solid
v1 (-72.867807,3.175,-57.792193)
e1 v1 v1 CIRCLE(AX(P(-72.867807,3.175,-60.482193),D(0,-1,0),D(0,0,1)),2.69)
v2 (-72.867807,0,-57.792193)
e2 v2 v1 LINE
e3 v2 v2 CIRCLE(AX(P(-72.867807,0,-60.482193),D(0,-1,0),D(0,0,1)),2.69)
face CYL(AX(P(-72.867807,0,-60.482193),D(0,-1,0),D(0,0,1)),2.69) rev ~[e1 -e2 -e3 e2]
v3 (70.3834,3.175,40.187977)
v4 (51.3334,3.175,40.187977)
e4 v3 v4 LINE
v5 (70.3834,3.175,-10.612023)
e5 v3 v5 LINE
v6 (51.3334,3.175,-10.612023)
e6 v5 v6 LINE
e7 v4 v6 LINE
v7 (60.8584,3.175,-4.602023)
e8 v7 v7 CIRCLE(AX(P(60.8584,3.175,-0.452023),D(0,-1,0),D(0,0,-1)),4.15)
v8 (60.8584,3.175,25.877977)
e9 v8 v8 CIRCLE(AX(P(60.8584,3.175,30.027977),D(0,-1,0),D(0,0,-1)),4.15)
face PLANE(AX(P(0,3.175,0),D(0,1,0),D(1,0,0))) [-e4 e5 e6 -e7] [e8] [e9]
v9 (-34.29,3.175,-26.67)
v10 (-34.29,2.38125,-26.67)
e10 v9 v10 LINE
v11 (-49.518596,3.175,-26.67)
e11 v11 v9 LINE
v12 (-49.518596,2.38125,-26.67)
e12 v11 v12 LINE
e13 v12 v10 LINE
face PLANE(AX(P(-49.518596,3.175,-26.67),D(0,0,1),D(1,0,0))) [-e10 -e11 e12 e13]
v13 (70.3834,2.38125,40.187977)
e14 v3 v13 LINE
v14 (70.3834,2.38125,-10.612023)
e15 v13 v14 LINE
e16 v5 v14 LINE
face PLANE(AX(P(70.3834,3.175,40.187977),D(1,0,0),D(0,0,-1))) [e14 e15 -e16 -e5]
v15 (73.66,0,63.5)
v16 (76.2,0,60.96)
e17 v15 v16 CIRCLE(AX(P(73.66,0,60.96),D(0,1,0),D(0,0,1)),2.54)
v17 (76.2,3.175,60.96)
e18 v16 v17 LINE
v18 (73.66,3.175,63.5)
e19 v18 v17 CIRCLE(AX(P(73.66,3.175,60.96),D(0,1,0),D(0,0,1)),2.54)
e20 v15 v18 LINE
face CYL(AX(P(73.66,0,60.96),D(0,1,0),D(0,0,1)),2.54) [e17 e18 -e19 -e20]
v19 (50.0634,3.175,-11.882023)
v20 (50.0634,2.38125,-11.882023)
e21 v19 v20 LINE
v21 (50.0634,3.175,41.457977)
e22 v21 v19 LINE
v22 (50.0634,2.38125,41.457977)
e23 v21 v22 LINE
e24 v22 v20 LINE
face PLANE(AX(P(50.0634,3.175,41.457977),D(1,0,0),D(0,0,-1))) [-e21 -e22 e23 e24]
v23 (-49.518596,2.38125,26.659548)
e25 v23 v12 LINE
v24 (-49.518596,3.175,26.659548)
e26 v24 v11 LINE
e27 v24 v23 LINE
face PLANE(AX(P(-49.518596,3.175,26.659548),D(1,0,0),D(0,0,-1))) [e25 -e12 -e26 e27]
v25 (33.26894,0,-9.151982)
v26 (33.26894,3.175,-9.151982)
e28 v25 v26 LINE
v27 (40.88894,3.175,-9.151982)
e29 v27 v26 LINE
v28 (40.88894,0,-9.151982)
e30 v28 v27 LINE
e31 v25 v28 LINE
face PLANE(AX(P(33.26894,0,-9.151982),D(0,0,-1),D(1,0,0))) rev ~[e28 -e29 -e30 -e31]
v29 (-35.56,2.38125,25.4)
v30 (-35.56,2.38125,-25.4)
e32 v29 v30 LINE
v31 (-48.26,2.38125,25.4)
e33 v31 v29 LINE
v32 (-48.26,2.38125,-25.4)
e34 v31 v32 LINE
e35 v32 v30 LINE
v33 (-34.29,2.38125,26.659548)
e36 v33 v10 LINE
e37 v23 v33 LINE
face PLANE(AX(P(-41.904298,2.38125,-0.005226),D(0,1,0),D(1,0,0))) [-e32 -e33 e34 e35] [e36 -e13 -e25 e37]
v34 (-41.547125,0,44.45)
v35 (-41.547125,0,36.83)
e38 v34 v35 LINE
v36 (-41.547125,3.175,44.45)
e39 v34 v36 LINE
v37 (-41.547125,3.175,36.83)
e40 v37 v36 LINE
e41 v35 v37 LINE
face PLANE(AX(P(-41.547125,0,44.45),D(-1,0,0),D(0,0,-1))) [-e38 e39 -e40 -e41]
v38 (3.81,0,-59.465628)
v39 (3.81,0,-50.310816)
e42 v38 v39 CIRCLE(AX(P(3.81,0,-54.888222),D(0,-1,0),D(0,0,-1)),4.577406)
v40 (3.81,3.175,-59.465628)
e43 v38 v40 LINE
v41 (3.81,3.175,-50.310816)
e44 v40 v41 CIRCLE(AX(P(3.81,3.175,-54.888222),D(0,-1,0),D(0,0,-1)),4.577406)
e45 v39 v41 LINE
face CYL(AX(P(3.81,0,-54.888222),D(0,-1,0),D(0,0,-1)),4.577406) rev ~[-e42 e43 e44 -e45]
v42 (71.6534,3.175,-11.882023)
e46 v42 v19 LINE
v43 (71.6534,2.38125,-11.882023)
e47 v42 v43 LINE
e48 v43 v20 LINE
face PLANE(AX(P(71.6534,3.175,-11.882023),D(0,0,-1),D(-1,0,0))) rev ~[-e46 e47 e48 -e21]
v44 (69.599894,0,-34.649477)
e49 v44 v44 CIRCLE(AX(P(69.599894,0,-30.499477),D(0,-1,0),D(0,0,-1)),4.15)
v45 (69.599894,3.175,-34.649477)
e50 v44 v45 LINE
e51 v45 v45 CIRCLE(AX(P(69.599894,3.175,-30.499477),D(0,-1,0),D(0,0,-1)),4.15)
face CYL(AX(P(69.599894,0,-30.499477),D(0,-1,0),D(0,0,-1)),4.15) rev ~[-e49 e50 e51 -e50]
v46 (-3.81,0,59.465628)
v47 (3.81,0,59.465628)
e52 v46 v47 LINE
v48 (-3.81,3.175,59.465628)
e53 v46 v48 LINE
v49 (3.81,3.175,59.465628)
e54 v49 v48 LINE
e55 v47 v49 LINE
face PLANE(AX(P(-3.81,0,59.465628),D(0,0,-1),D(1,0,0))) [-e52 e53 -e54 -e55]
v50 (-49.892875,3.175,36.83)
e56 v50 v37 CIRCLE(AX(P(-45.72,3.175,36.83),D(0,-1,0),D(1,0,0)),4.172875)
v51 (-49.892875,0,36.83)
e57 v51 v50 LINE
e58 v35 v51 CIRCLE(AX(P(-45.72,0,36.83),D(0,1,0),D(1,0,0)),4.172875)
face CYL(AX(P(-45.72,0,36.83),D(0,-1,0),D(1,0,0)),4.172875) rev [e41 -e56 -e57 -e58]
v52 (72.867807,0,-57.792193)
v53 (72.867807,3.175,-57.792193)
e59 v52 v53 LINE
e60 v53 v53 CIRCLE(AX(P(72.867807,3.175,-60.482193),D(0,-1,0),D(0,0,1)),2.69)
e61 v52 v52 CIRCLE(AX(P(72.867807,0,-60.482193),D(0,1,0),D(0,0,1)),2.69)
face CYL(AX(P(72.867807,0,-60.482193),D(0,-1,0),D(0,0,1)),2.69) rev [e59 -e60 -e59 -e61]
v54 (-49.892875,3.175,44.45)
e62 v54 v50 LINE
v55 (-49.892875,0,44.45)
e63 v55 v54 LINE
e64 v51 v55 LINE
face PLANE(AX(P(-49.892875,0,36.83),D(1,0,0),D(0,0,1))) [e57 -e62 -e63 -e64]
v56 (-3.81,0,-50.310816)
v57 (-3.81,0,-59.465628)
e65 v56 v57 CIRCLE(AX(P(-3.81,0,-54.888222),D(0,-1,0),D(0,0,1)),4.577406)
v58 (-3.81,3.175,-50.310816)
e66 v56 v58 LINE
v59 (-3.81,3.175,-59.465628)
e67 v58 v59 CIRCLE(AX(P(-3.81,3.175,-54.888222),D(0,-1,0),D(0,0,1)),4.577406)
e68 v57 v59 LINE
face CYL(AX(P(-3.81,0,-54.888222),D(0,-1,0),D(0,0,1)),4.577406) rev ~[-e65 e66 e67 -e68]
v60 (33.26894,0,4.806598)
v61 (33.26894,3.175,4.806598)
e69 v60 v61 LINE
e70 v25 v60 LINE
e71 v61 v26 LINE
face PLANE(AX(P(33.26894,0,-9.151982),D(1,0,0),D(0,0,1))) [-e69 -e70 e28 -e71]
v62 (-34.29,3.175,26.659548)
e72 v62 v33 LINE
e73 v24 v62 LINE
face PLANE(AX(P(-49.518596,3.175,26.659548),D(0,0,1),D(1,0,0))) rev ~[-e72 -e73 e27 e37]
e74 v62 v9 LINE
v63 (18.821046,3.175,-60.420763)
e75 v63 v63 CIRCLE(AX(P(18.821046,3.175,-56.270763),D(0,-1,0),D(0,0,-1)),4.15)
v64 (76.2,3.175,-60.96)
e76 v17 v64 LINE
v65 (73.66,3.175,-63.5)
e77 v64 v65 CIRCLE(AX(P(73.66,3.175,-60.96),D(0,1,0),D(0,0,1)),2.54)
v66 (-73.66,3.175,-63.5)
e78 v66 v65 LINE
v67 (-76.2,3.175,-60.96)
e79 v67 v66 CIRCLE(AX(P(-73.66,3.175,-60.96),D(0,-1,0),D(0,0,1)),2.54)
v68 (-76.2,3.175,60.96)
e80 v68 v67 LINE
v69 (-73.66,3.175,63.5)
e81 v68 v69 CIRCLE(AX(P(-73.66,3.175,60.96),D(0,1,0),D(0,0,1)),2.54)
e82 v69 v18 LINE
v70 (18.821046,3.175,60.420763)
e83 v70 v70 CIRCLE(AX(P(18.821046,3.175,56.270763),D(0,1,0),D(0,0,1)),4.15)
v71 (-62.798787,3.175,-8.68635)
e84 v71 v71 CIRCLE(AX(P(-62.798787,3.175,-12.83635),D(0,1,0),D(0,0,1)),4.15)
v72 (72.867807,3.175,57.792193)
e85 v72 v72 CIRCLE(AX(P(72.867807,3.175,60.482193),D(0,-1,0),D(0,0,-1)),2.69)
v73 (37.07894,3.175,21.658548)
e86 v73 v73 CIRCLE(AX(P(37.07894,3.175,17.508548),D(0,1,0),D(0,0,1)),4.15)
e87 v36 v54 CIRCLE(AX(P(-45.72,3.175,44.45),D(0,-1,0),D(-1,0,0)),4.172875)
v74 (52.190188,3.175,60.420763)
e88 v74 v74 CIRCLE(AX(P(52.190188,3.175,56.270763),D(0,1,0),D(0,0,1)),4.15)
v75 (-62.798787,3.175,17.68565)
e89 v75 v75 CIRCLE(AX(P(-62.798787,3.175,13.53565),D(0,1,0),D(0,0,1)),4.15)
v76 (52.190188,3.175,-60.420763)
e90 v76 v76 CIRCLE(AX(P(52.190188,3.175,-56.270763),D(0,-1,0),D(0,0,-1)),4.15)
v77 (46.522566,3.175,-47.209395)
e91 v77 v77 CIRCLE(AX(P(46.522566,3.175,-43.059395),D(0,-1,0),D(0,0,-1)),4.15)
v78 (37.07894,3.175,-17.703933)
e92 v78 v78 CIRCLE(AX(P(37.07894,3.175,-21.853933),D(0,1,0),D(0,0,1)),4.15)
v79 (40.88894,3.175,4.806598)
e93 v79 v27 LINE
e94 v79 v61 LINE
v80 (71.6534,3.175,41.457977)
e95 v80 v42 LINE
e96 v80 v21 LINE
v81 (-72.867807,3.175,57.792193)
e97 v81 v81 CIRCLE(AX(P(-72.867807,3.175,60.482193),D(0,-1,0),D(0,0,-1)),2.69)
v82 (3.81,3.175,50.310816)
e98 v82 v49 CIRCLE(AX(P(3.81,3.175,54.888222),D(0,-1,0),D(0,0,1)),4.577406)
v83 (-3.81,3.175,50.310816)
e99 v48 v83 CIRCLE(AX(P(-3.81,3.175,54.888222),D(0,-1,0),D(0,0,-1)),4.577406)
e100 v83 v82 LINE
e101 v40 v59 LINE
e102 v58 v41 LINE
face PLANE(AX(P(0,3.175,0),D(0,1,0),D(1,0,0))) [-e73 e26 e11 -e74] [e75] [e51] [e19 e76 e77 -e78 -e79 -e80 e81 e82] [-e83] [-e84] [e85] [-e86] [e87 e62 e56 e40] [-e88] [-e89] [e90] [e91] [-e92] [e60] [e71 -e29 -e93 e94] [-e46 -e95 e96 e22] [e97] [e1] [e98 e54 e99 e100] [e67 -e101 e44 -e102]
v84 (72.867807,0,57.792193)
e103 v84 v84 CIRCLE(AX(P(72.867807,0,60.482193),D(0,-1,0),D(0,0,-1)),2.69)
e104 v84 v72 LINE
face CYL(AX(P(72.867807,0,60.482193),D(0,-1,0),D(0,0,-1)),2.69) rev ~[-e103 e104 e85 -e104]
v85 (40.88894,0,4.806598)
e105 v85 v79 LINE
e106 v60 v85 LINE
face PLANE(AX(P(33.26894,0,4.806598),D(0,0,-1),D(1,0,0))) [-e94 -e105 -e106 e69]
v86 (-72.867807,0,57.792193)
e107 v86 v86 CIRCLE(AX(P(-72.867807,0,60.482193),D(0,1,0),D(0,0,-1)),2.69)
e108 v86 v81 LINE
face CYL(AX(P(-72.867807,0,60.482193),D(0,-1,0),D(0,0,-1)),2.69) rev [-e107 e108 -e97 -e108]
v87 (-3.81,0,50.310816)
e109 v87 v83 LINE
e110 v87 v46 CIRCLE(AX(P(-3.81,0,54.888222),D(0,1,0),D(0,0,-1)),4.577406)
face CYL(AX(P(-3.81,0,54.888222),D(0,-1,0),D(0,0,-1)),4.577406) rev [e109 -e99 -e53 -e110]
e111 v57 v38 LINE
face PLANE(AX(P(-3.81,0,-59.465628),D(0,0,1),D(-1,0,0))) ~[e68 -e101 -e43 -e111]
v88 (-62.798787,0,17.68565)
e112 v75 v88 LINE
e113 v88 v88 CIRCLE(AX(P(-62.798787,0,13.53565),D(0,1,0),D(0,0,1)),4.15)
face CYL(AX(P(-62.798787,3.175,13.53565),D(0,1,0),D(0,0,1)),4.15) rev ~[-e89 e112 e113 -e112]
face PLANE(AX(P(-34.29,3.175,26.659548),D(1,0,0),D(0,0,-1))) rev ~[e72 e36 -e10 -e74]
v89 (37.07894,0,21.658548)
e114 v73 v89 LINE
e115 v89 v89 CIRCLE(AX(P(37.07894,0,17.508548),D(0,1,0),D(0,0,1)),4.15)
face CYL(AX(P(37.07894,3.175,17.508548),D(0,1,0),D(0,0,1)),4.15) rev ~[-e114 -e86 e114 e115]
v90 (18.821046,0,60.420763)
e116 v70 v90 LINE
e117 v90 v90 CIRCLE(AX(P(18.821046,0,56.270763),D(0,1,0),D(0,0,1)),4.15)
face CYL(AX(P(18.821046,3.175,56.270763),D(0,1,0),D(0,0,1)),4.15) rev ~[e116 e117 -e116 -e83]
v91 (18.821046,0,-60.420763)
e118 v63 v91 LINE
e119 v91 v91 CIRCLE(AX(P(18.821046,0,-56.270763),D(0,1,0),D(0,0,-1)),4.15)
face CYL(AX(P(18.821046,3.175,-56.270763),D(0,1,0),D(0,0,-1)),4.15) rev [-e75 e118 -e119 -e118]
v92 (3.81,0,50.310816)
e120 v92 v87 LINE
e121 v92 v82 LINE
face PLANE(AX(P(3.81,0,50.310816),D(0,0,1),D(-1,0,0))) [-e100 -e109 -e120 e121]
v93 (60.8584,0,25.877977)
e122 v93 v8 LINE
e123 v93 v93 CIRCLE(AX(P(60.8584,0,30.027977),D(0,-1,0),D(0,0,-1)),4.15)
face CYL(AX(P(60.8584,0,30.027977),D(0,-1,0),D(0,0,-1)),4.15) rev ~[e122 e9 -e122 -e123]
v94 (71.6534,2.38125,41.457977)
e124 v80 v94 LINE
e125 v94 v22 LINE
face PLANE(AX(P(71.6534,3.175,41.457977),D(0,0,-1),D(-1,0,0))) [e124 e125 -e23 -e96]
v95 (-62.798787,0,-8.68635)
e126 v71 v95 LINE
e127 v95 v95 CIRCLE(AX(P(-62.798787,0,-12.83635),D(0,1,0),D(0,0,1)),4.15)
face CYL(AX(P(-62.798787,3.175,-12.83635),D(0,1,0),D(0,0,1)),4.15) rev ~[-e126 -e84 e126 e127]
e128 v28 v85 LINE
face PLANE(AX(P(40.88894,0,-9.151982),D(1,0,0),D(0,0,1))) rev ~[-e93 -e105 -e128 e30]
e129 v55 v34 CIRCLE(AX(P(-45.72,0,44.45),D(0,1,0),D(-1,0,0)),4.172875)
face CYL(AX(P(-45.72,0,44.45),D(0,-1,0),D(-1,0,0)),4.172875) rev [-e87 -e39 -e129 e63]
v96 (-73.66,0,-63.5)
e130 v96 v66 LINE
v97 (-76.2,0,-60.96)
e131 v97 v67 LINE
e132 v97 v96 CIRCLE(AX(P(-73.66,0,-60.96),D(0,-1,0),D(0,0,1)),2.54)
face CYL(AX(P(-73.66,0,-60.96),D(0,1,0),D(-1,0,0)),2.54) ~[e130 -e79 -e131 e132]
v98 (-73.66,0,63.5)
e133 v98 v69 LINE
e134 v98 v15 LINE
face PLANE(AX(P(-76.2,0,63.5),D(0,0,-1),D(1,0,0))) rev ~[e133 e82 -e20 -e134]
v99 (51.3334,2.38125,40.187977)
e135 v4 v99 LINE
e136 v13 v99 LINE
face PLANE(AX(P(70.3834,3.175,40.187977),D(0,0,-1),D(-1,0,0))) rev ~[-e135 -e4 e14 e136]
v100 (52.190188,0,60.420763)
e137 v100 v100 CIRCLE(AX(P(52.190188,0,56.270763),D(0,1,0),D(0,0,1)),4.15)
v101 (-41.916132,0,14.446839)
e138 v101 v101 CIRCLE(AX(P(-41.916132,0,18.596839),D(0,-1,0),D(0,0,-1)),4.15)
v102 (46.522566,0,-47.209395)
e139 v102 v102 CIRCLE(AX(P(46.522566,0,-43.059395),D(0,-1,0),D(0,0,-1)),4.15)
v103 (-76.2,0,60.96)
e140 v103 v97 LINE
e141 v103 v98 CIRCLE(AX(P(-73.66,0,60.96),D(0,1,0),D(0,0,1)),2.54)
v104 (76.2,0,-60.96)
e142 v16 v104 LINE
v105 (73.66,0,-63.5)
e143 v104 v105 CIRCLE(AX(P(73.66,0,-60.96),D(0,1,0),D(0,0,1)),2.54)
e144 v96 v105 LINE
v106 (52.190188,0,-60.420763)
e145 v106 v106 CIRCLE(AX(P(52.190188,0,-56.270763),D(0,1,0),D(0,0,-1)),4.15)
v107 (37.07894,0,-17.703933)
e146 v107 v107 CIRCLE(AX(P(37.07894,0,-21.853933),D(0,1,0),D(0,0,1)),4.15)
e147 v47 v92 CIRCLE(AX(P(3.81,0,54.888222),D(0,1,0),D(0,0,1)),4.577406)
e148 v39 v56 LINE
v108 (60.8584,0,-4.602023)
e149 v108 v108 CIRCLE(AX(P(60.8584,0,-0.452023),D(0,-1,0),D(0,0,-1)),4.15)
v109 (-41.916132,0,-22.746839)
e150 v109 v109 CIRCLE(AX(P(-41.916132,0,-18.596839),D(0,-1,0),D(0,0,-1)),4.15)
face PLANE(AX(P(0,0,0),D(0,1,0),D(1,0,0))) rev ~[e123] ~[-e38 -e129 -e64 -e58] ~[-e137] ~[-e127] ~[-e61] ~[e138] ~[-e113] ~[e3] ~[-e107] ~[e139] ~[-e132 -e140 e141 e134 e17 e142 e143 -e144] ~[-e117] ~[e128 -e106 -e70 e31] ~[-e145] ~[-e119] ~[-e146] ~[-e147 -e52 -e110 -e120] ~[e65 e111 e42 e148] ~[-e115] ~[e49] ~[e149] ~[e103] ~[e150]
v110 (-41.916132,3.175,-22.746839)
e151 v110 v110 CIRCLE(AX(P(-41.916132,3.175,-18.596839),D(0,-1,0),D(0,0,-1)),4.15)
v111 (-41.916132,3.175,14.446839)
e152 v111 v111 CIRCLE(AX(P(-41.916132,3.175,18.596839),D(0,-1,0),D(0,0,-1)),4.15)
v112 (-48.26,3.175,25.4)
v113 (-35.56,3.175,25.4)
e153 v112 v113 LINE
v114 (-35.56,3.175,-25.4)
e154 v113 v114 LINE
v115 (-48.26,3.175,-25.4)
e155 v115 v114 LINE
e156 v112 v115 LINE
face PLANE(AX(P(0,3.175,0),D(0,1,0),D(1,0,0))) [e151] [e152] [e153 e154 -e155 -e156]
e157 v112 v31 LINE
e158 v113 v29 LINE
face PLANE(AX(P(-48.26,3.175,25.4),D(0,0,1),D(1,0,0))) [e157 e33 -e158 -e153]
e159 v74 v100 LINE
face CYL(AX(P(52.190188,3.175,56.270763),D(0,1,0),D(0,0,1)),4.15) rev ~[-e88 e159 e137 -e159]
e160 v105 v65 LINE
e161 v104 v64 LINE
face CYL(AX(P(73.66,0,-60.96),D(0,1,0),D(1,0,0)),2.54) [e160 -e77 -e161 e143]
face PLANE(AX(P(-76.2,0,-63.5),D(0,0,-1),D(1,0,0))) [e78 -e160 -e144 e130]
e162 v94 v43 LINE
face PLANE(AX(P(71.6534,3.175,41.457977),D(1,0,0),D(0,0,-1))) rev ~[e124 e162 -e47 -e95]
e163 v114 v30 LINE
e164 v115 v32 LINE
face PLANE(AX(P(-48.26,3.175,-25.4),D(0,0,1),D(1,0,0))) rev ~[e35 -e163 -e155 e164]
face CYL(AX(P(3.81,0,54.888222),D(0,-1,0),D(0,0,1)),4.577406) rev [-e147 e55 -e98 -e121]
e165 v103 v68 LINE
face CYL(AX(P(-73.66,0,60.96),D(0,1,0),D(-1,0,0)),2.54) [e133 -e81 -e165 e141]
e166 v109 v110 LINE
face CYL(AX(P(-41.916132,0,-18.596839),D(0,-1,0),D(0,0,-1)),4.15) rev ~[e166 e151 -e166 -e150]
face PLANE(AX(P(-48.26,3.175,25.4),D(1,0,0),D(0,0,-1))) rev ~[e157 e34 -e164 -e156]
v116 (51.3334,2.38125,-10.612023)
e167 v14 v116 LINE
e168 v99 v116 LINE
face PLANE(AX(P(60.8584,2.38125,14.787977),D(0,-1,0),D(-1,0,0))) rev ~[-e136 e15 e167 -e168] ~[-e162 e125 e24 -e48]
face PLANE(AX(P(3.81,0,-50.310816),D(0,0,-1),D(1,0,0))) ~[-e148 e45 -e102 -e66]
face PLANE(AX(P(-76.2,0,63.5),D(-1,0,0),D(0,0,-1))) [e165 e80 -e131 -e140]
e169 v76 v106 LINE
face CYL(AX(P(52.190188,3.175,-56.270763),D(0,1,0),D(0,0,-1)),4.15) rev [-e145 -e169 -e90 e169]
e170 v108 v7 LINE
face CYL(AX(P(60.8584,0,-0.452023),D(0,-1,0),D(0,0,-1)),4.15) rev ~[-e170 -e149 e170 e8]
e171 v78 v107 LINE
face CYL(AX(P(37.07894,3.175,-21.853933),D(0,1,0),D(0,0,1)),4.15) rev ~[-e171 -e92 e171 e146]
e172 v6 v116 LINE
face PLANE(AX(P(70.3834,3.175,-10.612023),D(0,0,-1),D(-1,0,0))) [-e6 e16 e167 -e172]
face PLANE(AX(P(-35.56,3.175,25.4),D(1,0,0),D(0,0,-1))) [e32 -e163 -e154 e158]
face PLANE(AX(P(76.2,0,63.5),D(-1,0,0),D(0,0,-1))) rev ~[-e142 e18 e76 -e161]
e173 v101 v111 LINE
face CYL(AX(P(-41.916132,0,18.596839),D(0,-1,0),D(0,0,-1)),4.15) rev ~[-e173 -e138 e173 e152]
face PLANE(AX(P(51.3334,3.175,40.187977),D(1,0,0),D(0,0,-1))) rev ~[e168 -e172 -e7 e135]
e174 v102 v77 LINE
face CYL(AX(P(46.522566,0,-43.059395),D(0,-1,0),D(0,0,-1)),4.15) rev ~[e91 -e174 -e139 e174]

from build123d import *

# Parameters (mm, degrees)
SKETCH1_W               = 152.4
SKETCH1_H               = 127
BOSS_EXTRUDE1_DEPTH     = 3.175
FILLET1_R               = 2.54
SKETCH9_R               = 4.15
CUT_EXTRUDE8_DEPTH      = 100.240972511
CUT_EXTRUDE11_DEPTH     = 100.240972511
CUT_EXTRUDE12_DEPTH     = 100.240972511
SKETCH15_R              = 4.15
CUT_EXTRUDE13_DEPTH     = 100.240972511
SKETCH16_R              = 4.15
CUT_EXTRUDE14_DEPTH     = 100.240972511
SKETCH17_R              = 2.69
CUT_EXTRUDE16_DEPTH     = 100.240972511
MIRROR7_COPY_1_SKETCH_R = 2.69
MIRROR7_COPY_1_DEPTH    = 100.240972511
SKETCH18_R              = 4.15
CUT_EXTRUDE17_DEPTH     = 100.240972511
SKETCH19_R              = 4.15
CUT_EXTRUDE18_DEPTH     = 100.240972511
SKETCH20_R              = 4.15
CUT_EXTRUDE19_DEPTH     = 100.240972511
SKETCH21_W              = 7.62
SKETCH21_H              = 13.958580006
CUT_EXTRUDE20_DEPTH     = 100.240972511
SKETCH22_W              = 15.228595593
SKETCH22_H              = 53.32954849
SKETCH22_W_2            = 12.7
SKETCH22_H_2            = 50.8
CUT_EXTRUDE21_DEPTH     = 0.79375
SKETCH24_W              = 21.59
SKETCH24_H              = 53.34
SKETCH24_W_2            = 19.05
SKETCH24_H_2            = 50.8
CUT_EXTRUDE24_DEPTH     = 0.79375


with BuildPart() as part:
    # Sketch1 → Boss-Extrude1 (new body)
    with BuildSketch(Plane(origin=(0, 0, 0), x_dir=(1, 0, 0), z_dir=(0, 1, 0))):
        Rectangle(SKETCH1_W, SKETCH1_H)
    extrude(amount=BOSS_EXTRUDE1_DEPTH)

    # Fillet1
    fillet1_edges = [part.edges().sort_by_distance(p)[0] for p in [
        (76.2, 1.5875, 63.5),
        (-76.2, 1.5875, 63.5),
        (-76.2, 1.5875, -63.5),
        (76.2, 1.5875, -63.5),
    ]]
    fillet(fillet1_edges, radius=FILLET1_R)

    # Sketch9 → Cut-Extrude8 (cut, through all)
    with BuildSketch(Plane.XZ):
        with Locations(Location((60.8584, 30.027977178, 0), (0, 0, 270))):
            Circle(SKETCH9_R)
        with Locations(Location((60.8584, -0.452022822, 0), (0, 0, 270))):
            Circle(SKETCH9_R)
    extrude(amount=-CUT_EXTRUDE8_DEPTH, mode=Mode.SUBTRACT)

    # Sketch12 → Cut-Extrude11 (cut, through all)
    with BuildSketch(Plane.XZ):
        with BuildLine():
            Line((-3.81, 59.465627528), (3.81, 59.465627528))
            ThreePointArc((3.81, 59.465627528), (8.387405636, 54.888221892), (3.81, 50.310816255))
            Line((3.81, 50.310816255), (-3.81, 50.310816255))
            ThreePointArc((-3.81, 50.310816255), (-8.387405636, 54.888221892), (-3.81, 59.465627528))
        make_face()
    cut_extrude11 = extrude(amount=-CUT_EXTRUDE11_DEPTH, mode=Mode.SUBTRACT)

    # Mirror3: Cut-Extrude11 across plane
    add(cut_extrude11.mirror(Plane.XY), mode=Mode.SUBTRACT)

    # Sketch13 → Cut-Extrude12 (cut, through all)
    with BuildSketch(Plane(origin=(0, 0, 0), x_dir=(-1, 0, 0), z_dir=(0, -1, 0))):
        with BuildLine():
            Line((49.892874771, -36.83), (49.892874771, -44.45))
            ThreePointArc((49.892874771, -44.45), (45.72, -48.622874771), (41.547125229, -44.45))
            Line((41.547125229, -44.45), (41.547125229, -36.83))
            ThreePointArc((41.547125229, -36.83), (45.72, -32.657125229), (49.892874771, -36.83))
        make_face()
    extrude(amount=-CUT_EXTRUDE12_DEPTH, mode=Mode.SUBTRACT)

    # Sketch15 → Cut-Extrude13 (cut, through all)
    with BuildSketch(Plane(origin=(0, 0, 0), x_dir=(-1, 0, 0), z_dir=(0, -1, 0))):
        with Locations(Location((41.916131811, 18.596838804, 0), (0, 0, 90))):
            Circle(SKETCH15_R)
        with Locations(Location((41.916131811, -18.596838804, 0), (0, 0, 90))):
            Circle(SKETCH15_R)
    extrude(amount=-CUT_EXTRUDE13_DEPTH, mode=Mode.SUBTRACT)

    # Sketch16 → Cut-Extrude14 (cut, through all)
    with BuildSketch(Plane(origin=(0, 0, 0), x_dir=(-1, 0, 0), z_dir=(0, -1, 0))):
        with Locations(Location((-69.599893995, 30.499477113, 0), (0, 0, 90))):
            Circle(SKETCH16_R)
        with Locations(Location((-46.522565834, 43.05939533, 0), (0, 0, 90))):
            Circle(SKETCH16_R)
    extrude(amount=-CUT_EXTRUDE14_DEPTH, mode=Mode.SUBTRACT)

    # Sketch17 → Cut-Extrude16 (cut, through all)
    with BuildSketch(Plane.XZ):
        with Locations(Location((72.867806522, 60.482193478, 0), (0, 0, 270))):
            Circle(SKETCH17_R)
    cut_extrude16 = extrude(amount=-CUT_EXTRUDE16_DEPTH, mode=Mode.SUBTRACT)

    # Mirror6: Cut-Extrude16 across plane
    add(cut_extrude16.mirror(Plane(origin=(0, 0, 0), x_dir=(0, 0, 1), z_dir=(1, 0, 0))), mode=Mode.SUBTRACT)

    # Mirror7: Cut-Extrude16 across plane
    add(cut_extrude16.mirror(Plane.XY), mode=Mode.SUBTRACT)

    # Mirror7 copy 1 sketch → Mirror7 copy 1 (cut, through all)
    with BuildSketch(Plane(origin=(0, 0, 0), x_dir=(-1, 0, 0), z_dir=(0, -1, 0))):
        with Locations(Location((72.867806522, 60.482193478, 0), (0, 0, 270))):
            Circle(MIRROR7_COPY_1_SKETCH_R)
    extrude(amount=-MIRROR7_COPY_1_DEPTH, mode=Mode.SUBTRACT)

    # Sketch18 → Cut-Extrude17 (cut, through all)
    with BuildSketch(Plane(origin=(0, 3.175, 0), x_dir=(1, 0, 0), z_dir=(0, 1, 0))):
        with Locations(Location((37.078939717, 21.853932791, 0), (0, 0, 270))):
            Circle(SKETCH18_R)
        with Locations(Location((37.078939717, -17.508548393, 0), (0, 0, 270))):
            Circle(SKETCH18_R)
    extrude(amount=-CUT_EXTRUDE17_DEPTH, mode=Mode.SUBTRACT)

    # Sketch19 → Cut-Extrude18 (cut, through all)
    with BuildSketch(Plane(origin=(0, 3.175, 0), x_dir=(1, 0, 0), z_dir=(0, 1, 0))):
        with Locations(Location((52.190187574, -56.270763327, 0), (0, 0, 270))):
            Circle(SKETCH19_R)
        with Locations(Location((18.821046034, -56.270763327, 0), (0, 0, 270))):
            Circle(SKETCH19_R)
    cut_extrude18 = extrude(amount=-CUT_EXTRUDE18_DEPTH, mode=Mode.SUBTRACT)

    # Sketch20 → Cut-Extrude19 (cut, through all)
    with BuildSketch(Plane(origin=(0, 3.175, 0), x_dir=(1, 0, 0), z_dir=(0, 1, 0))):
        with Locations(Location((-62.798787331, 12.836349908, 0), (0, 0, 270))):
            Circle(SKETCH20_R)
        with Locations(Location((-62.798787331, -13.535650092, 0), (0, 0, 270))):
            Circle(SKETCH20_R)
    extrude(amount=-CUT_EXTRUDE19_DEPTH, mode=Mode.SUBTRACT)

    # Mirror8: Cut-Extrude18 across plane
    add(cut_extrude18.mirror(Plane.XY), mode=Mode.SUBTRACT)

    # Sketch21 → Cut-Extrude20 (cut, through all)
    with BuildSketch(Plane.XZ):
        with Locations((37.078939717, -2.172692199)):
            Rectangle(SKETCH21_W, SKETCH21_H)
    extrude(amount=-CUT_EXTRUDE20_DEPTH, mode=Mode.SUBTRACT)

    # Sketch22 → Cut-Extrude21 (cut)
    with BuildSketch(Plane(origin=(0, 3.175, 0), x_dir=(1, 0, 0), z_dir=(0, 1, 0))):
        with Locations((-41.904297797, 0.005225755)):
            Rectangle(SKETCH22_W, SKETCH22_H)
        with Locations((-41.91, 0)):
            Rectangle(SKETCH22_W_2, SKETCH22_H_2, mode=Mode.SUBTRACT)
    extrude(amount=-CUT_EXTRUDE21_DEPTH, mode=Mode.SUBTRACT)

    # Sketch24 → Cut-Extrude24 (cut)
    with BuildSketch(Plane(origin=(0, 3.175, 0), x_dir=(-1, 0, 0), z_dir=(0, -1, 0))):
        with Locations((-60.8584, -14.787977178)):
            Rectangle(SKETCH24_W, SKETCH24_H)
        with Locations((-60.8584, -14.787977178)):
            Rectangle(SKETCH24_W_2, SKETCH24_H_2, mode=Mode.SUBTRACT)
    extrude(amount=CUT_EXTRUDE24_DEPTH, mode=Mode.SUBTRACT)


solid = part.part
